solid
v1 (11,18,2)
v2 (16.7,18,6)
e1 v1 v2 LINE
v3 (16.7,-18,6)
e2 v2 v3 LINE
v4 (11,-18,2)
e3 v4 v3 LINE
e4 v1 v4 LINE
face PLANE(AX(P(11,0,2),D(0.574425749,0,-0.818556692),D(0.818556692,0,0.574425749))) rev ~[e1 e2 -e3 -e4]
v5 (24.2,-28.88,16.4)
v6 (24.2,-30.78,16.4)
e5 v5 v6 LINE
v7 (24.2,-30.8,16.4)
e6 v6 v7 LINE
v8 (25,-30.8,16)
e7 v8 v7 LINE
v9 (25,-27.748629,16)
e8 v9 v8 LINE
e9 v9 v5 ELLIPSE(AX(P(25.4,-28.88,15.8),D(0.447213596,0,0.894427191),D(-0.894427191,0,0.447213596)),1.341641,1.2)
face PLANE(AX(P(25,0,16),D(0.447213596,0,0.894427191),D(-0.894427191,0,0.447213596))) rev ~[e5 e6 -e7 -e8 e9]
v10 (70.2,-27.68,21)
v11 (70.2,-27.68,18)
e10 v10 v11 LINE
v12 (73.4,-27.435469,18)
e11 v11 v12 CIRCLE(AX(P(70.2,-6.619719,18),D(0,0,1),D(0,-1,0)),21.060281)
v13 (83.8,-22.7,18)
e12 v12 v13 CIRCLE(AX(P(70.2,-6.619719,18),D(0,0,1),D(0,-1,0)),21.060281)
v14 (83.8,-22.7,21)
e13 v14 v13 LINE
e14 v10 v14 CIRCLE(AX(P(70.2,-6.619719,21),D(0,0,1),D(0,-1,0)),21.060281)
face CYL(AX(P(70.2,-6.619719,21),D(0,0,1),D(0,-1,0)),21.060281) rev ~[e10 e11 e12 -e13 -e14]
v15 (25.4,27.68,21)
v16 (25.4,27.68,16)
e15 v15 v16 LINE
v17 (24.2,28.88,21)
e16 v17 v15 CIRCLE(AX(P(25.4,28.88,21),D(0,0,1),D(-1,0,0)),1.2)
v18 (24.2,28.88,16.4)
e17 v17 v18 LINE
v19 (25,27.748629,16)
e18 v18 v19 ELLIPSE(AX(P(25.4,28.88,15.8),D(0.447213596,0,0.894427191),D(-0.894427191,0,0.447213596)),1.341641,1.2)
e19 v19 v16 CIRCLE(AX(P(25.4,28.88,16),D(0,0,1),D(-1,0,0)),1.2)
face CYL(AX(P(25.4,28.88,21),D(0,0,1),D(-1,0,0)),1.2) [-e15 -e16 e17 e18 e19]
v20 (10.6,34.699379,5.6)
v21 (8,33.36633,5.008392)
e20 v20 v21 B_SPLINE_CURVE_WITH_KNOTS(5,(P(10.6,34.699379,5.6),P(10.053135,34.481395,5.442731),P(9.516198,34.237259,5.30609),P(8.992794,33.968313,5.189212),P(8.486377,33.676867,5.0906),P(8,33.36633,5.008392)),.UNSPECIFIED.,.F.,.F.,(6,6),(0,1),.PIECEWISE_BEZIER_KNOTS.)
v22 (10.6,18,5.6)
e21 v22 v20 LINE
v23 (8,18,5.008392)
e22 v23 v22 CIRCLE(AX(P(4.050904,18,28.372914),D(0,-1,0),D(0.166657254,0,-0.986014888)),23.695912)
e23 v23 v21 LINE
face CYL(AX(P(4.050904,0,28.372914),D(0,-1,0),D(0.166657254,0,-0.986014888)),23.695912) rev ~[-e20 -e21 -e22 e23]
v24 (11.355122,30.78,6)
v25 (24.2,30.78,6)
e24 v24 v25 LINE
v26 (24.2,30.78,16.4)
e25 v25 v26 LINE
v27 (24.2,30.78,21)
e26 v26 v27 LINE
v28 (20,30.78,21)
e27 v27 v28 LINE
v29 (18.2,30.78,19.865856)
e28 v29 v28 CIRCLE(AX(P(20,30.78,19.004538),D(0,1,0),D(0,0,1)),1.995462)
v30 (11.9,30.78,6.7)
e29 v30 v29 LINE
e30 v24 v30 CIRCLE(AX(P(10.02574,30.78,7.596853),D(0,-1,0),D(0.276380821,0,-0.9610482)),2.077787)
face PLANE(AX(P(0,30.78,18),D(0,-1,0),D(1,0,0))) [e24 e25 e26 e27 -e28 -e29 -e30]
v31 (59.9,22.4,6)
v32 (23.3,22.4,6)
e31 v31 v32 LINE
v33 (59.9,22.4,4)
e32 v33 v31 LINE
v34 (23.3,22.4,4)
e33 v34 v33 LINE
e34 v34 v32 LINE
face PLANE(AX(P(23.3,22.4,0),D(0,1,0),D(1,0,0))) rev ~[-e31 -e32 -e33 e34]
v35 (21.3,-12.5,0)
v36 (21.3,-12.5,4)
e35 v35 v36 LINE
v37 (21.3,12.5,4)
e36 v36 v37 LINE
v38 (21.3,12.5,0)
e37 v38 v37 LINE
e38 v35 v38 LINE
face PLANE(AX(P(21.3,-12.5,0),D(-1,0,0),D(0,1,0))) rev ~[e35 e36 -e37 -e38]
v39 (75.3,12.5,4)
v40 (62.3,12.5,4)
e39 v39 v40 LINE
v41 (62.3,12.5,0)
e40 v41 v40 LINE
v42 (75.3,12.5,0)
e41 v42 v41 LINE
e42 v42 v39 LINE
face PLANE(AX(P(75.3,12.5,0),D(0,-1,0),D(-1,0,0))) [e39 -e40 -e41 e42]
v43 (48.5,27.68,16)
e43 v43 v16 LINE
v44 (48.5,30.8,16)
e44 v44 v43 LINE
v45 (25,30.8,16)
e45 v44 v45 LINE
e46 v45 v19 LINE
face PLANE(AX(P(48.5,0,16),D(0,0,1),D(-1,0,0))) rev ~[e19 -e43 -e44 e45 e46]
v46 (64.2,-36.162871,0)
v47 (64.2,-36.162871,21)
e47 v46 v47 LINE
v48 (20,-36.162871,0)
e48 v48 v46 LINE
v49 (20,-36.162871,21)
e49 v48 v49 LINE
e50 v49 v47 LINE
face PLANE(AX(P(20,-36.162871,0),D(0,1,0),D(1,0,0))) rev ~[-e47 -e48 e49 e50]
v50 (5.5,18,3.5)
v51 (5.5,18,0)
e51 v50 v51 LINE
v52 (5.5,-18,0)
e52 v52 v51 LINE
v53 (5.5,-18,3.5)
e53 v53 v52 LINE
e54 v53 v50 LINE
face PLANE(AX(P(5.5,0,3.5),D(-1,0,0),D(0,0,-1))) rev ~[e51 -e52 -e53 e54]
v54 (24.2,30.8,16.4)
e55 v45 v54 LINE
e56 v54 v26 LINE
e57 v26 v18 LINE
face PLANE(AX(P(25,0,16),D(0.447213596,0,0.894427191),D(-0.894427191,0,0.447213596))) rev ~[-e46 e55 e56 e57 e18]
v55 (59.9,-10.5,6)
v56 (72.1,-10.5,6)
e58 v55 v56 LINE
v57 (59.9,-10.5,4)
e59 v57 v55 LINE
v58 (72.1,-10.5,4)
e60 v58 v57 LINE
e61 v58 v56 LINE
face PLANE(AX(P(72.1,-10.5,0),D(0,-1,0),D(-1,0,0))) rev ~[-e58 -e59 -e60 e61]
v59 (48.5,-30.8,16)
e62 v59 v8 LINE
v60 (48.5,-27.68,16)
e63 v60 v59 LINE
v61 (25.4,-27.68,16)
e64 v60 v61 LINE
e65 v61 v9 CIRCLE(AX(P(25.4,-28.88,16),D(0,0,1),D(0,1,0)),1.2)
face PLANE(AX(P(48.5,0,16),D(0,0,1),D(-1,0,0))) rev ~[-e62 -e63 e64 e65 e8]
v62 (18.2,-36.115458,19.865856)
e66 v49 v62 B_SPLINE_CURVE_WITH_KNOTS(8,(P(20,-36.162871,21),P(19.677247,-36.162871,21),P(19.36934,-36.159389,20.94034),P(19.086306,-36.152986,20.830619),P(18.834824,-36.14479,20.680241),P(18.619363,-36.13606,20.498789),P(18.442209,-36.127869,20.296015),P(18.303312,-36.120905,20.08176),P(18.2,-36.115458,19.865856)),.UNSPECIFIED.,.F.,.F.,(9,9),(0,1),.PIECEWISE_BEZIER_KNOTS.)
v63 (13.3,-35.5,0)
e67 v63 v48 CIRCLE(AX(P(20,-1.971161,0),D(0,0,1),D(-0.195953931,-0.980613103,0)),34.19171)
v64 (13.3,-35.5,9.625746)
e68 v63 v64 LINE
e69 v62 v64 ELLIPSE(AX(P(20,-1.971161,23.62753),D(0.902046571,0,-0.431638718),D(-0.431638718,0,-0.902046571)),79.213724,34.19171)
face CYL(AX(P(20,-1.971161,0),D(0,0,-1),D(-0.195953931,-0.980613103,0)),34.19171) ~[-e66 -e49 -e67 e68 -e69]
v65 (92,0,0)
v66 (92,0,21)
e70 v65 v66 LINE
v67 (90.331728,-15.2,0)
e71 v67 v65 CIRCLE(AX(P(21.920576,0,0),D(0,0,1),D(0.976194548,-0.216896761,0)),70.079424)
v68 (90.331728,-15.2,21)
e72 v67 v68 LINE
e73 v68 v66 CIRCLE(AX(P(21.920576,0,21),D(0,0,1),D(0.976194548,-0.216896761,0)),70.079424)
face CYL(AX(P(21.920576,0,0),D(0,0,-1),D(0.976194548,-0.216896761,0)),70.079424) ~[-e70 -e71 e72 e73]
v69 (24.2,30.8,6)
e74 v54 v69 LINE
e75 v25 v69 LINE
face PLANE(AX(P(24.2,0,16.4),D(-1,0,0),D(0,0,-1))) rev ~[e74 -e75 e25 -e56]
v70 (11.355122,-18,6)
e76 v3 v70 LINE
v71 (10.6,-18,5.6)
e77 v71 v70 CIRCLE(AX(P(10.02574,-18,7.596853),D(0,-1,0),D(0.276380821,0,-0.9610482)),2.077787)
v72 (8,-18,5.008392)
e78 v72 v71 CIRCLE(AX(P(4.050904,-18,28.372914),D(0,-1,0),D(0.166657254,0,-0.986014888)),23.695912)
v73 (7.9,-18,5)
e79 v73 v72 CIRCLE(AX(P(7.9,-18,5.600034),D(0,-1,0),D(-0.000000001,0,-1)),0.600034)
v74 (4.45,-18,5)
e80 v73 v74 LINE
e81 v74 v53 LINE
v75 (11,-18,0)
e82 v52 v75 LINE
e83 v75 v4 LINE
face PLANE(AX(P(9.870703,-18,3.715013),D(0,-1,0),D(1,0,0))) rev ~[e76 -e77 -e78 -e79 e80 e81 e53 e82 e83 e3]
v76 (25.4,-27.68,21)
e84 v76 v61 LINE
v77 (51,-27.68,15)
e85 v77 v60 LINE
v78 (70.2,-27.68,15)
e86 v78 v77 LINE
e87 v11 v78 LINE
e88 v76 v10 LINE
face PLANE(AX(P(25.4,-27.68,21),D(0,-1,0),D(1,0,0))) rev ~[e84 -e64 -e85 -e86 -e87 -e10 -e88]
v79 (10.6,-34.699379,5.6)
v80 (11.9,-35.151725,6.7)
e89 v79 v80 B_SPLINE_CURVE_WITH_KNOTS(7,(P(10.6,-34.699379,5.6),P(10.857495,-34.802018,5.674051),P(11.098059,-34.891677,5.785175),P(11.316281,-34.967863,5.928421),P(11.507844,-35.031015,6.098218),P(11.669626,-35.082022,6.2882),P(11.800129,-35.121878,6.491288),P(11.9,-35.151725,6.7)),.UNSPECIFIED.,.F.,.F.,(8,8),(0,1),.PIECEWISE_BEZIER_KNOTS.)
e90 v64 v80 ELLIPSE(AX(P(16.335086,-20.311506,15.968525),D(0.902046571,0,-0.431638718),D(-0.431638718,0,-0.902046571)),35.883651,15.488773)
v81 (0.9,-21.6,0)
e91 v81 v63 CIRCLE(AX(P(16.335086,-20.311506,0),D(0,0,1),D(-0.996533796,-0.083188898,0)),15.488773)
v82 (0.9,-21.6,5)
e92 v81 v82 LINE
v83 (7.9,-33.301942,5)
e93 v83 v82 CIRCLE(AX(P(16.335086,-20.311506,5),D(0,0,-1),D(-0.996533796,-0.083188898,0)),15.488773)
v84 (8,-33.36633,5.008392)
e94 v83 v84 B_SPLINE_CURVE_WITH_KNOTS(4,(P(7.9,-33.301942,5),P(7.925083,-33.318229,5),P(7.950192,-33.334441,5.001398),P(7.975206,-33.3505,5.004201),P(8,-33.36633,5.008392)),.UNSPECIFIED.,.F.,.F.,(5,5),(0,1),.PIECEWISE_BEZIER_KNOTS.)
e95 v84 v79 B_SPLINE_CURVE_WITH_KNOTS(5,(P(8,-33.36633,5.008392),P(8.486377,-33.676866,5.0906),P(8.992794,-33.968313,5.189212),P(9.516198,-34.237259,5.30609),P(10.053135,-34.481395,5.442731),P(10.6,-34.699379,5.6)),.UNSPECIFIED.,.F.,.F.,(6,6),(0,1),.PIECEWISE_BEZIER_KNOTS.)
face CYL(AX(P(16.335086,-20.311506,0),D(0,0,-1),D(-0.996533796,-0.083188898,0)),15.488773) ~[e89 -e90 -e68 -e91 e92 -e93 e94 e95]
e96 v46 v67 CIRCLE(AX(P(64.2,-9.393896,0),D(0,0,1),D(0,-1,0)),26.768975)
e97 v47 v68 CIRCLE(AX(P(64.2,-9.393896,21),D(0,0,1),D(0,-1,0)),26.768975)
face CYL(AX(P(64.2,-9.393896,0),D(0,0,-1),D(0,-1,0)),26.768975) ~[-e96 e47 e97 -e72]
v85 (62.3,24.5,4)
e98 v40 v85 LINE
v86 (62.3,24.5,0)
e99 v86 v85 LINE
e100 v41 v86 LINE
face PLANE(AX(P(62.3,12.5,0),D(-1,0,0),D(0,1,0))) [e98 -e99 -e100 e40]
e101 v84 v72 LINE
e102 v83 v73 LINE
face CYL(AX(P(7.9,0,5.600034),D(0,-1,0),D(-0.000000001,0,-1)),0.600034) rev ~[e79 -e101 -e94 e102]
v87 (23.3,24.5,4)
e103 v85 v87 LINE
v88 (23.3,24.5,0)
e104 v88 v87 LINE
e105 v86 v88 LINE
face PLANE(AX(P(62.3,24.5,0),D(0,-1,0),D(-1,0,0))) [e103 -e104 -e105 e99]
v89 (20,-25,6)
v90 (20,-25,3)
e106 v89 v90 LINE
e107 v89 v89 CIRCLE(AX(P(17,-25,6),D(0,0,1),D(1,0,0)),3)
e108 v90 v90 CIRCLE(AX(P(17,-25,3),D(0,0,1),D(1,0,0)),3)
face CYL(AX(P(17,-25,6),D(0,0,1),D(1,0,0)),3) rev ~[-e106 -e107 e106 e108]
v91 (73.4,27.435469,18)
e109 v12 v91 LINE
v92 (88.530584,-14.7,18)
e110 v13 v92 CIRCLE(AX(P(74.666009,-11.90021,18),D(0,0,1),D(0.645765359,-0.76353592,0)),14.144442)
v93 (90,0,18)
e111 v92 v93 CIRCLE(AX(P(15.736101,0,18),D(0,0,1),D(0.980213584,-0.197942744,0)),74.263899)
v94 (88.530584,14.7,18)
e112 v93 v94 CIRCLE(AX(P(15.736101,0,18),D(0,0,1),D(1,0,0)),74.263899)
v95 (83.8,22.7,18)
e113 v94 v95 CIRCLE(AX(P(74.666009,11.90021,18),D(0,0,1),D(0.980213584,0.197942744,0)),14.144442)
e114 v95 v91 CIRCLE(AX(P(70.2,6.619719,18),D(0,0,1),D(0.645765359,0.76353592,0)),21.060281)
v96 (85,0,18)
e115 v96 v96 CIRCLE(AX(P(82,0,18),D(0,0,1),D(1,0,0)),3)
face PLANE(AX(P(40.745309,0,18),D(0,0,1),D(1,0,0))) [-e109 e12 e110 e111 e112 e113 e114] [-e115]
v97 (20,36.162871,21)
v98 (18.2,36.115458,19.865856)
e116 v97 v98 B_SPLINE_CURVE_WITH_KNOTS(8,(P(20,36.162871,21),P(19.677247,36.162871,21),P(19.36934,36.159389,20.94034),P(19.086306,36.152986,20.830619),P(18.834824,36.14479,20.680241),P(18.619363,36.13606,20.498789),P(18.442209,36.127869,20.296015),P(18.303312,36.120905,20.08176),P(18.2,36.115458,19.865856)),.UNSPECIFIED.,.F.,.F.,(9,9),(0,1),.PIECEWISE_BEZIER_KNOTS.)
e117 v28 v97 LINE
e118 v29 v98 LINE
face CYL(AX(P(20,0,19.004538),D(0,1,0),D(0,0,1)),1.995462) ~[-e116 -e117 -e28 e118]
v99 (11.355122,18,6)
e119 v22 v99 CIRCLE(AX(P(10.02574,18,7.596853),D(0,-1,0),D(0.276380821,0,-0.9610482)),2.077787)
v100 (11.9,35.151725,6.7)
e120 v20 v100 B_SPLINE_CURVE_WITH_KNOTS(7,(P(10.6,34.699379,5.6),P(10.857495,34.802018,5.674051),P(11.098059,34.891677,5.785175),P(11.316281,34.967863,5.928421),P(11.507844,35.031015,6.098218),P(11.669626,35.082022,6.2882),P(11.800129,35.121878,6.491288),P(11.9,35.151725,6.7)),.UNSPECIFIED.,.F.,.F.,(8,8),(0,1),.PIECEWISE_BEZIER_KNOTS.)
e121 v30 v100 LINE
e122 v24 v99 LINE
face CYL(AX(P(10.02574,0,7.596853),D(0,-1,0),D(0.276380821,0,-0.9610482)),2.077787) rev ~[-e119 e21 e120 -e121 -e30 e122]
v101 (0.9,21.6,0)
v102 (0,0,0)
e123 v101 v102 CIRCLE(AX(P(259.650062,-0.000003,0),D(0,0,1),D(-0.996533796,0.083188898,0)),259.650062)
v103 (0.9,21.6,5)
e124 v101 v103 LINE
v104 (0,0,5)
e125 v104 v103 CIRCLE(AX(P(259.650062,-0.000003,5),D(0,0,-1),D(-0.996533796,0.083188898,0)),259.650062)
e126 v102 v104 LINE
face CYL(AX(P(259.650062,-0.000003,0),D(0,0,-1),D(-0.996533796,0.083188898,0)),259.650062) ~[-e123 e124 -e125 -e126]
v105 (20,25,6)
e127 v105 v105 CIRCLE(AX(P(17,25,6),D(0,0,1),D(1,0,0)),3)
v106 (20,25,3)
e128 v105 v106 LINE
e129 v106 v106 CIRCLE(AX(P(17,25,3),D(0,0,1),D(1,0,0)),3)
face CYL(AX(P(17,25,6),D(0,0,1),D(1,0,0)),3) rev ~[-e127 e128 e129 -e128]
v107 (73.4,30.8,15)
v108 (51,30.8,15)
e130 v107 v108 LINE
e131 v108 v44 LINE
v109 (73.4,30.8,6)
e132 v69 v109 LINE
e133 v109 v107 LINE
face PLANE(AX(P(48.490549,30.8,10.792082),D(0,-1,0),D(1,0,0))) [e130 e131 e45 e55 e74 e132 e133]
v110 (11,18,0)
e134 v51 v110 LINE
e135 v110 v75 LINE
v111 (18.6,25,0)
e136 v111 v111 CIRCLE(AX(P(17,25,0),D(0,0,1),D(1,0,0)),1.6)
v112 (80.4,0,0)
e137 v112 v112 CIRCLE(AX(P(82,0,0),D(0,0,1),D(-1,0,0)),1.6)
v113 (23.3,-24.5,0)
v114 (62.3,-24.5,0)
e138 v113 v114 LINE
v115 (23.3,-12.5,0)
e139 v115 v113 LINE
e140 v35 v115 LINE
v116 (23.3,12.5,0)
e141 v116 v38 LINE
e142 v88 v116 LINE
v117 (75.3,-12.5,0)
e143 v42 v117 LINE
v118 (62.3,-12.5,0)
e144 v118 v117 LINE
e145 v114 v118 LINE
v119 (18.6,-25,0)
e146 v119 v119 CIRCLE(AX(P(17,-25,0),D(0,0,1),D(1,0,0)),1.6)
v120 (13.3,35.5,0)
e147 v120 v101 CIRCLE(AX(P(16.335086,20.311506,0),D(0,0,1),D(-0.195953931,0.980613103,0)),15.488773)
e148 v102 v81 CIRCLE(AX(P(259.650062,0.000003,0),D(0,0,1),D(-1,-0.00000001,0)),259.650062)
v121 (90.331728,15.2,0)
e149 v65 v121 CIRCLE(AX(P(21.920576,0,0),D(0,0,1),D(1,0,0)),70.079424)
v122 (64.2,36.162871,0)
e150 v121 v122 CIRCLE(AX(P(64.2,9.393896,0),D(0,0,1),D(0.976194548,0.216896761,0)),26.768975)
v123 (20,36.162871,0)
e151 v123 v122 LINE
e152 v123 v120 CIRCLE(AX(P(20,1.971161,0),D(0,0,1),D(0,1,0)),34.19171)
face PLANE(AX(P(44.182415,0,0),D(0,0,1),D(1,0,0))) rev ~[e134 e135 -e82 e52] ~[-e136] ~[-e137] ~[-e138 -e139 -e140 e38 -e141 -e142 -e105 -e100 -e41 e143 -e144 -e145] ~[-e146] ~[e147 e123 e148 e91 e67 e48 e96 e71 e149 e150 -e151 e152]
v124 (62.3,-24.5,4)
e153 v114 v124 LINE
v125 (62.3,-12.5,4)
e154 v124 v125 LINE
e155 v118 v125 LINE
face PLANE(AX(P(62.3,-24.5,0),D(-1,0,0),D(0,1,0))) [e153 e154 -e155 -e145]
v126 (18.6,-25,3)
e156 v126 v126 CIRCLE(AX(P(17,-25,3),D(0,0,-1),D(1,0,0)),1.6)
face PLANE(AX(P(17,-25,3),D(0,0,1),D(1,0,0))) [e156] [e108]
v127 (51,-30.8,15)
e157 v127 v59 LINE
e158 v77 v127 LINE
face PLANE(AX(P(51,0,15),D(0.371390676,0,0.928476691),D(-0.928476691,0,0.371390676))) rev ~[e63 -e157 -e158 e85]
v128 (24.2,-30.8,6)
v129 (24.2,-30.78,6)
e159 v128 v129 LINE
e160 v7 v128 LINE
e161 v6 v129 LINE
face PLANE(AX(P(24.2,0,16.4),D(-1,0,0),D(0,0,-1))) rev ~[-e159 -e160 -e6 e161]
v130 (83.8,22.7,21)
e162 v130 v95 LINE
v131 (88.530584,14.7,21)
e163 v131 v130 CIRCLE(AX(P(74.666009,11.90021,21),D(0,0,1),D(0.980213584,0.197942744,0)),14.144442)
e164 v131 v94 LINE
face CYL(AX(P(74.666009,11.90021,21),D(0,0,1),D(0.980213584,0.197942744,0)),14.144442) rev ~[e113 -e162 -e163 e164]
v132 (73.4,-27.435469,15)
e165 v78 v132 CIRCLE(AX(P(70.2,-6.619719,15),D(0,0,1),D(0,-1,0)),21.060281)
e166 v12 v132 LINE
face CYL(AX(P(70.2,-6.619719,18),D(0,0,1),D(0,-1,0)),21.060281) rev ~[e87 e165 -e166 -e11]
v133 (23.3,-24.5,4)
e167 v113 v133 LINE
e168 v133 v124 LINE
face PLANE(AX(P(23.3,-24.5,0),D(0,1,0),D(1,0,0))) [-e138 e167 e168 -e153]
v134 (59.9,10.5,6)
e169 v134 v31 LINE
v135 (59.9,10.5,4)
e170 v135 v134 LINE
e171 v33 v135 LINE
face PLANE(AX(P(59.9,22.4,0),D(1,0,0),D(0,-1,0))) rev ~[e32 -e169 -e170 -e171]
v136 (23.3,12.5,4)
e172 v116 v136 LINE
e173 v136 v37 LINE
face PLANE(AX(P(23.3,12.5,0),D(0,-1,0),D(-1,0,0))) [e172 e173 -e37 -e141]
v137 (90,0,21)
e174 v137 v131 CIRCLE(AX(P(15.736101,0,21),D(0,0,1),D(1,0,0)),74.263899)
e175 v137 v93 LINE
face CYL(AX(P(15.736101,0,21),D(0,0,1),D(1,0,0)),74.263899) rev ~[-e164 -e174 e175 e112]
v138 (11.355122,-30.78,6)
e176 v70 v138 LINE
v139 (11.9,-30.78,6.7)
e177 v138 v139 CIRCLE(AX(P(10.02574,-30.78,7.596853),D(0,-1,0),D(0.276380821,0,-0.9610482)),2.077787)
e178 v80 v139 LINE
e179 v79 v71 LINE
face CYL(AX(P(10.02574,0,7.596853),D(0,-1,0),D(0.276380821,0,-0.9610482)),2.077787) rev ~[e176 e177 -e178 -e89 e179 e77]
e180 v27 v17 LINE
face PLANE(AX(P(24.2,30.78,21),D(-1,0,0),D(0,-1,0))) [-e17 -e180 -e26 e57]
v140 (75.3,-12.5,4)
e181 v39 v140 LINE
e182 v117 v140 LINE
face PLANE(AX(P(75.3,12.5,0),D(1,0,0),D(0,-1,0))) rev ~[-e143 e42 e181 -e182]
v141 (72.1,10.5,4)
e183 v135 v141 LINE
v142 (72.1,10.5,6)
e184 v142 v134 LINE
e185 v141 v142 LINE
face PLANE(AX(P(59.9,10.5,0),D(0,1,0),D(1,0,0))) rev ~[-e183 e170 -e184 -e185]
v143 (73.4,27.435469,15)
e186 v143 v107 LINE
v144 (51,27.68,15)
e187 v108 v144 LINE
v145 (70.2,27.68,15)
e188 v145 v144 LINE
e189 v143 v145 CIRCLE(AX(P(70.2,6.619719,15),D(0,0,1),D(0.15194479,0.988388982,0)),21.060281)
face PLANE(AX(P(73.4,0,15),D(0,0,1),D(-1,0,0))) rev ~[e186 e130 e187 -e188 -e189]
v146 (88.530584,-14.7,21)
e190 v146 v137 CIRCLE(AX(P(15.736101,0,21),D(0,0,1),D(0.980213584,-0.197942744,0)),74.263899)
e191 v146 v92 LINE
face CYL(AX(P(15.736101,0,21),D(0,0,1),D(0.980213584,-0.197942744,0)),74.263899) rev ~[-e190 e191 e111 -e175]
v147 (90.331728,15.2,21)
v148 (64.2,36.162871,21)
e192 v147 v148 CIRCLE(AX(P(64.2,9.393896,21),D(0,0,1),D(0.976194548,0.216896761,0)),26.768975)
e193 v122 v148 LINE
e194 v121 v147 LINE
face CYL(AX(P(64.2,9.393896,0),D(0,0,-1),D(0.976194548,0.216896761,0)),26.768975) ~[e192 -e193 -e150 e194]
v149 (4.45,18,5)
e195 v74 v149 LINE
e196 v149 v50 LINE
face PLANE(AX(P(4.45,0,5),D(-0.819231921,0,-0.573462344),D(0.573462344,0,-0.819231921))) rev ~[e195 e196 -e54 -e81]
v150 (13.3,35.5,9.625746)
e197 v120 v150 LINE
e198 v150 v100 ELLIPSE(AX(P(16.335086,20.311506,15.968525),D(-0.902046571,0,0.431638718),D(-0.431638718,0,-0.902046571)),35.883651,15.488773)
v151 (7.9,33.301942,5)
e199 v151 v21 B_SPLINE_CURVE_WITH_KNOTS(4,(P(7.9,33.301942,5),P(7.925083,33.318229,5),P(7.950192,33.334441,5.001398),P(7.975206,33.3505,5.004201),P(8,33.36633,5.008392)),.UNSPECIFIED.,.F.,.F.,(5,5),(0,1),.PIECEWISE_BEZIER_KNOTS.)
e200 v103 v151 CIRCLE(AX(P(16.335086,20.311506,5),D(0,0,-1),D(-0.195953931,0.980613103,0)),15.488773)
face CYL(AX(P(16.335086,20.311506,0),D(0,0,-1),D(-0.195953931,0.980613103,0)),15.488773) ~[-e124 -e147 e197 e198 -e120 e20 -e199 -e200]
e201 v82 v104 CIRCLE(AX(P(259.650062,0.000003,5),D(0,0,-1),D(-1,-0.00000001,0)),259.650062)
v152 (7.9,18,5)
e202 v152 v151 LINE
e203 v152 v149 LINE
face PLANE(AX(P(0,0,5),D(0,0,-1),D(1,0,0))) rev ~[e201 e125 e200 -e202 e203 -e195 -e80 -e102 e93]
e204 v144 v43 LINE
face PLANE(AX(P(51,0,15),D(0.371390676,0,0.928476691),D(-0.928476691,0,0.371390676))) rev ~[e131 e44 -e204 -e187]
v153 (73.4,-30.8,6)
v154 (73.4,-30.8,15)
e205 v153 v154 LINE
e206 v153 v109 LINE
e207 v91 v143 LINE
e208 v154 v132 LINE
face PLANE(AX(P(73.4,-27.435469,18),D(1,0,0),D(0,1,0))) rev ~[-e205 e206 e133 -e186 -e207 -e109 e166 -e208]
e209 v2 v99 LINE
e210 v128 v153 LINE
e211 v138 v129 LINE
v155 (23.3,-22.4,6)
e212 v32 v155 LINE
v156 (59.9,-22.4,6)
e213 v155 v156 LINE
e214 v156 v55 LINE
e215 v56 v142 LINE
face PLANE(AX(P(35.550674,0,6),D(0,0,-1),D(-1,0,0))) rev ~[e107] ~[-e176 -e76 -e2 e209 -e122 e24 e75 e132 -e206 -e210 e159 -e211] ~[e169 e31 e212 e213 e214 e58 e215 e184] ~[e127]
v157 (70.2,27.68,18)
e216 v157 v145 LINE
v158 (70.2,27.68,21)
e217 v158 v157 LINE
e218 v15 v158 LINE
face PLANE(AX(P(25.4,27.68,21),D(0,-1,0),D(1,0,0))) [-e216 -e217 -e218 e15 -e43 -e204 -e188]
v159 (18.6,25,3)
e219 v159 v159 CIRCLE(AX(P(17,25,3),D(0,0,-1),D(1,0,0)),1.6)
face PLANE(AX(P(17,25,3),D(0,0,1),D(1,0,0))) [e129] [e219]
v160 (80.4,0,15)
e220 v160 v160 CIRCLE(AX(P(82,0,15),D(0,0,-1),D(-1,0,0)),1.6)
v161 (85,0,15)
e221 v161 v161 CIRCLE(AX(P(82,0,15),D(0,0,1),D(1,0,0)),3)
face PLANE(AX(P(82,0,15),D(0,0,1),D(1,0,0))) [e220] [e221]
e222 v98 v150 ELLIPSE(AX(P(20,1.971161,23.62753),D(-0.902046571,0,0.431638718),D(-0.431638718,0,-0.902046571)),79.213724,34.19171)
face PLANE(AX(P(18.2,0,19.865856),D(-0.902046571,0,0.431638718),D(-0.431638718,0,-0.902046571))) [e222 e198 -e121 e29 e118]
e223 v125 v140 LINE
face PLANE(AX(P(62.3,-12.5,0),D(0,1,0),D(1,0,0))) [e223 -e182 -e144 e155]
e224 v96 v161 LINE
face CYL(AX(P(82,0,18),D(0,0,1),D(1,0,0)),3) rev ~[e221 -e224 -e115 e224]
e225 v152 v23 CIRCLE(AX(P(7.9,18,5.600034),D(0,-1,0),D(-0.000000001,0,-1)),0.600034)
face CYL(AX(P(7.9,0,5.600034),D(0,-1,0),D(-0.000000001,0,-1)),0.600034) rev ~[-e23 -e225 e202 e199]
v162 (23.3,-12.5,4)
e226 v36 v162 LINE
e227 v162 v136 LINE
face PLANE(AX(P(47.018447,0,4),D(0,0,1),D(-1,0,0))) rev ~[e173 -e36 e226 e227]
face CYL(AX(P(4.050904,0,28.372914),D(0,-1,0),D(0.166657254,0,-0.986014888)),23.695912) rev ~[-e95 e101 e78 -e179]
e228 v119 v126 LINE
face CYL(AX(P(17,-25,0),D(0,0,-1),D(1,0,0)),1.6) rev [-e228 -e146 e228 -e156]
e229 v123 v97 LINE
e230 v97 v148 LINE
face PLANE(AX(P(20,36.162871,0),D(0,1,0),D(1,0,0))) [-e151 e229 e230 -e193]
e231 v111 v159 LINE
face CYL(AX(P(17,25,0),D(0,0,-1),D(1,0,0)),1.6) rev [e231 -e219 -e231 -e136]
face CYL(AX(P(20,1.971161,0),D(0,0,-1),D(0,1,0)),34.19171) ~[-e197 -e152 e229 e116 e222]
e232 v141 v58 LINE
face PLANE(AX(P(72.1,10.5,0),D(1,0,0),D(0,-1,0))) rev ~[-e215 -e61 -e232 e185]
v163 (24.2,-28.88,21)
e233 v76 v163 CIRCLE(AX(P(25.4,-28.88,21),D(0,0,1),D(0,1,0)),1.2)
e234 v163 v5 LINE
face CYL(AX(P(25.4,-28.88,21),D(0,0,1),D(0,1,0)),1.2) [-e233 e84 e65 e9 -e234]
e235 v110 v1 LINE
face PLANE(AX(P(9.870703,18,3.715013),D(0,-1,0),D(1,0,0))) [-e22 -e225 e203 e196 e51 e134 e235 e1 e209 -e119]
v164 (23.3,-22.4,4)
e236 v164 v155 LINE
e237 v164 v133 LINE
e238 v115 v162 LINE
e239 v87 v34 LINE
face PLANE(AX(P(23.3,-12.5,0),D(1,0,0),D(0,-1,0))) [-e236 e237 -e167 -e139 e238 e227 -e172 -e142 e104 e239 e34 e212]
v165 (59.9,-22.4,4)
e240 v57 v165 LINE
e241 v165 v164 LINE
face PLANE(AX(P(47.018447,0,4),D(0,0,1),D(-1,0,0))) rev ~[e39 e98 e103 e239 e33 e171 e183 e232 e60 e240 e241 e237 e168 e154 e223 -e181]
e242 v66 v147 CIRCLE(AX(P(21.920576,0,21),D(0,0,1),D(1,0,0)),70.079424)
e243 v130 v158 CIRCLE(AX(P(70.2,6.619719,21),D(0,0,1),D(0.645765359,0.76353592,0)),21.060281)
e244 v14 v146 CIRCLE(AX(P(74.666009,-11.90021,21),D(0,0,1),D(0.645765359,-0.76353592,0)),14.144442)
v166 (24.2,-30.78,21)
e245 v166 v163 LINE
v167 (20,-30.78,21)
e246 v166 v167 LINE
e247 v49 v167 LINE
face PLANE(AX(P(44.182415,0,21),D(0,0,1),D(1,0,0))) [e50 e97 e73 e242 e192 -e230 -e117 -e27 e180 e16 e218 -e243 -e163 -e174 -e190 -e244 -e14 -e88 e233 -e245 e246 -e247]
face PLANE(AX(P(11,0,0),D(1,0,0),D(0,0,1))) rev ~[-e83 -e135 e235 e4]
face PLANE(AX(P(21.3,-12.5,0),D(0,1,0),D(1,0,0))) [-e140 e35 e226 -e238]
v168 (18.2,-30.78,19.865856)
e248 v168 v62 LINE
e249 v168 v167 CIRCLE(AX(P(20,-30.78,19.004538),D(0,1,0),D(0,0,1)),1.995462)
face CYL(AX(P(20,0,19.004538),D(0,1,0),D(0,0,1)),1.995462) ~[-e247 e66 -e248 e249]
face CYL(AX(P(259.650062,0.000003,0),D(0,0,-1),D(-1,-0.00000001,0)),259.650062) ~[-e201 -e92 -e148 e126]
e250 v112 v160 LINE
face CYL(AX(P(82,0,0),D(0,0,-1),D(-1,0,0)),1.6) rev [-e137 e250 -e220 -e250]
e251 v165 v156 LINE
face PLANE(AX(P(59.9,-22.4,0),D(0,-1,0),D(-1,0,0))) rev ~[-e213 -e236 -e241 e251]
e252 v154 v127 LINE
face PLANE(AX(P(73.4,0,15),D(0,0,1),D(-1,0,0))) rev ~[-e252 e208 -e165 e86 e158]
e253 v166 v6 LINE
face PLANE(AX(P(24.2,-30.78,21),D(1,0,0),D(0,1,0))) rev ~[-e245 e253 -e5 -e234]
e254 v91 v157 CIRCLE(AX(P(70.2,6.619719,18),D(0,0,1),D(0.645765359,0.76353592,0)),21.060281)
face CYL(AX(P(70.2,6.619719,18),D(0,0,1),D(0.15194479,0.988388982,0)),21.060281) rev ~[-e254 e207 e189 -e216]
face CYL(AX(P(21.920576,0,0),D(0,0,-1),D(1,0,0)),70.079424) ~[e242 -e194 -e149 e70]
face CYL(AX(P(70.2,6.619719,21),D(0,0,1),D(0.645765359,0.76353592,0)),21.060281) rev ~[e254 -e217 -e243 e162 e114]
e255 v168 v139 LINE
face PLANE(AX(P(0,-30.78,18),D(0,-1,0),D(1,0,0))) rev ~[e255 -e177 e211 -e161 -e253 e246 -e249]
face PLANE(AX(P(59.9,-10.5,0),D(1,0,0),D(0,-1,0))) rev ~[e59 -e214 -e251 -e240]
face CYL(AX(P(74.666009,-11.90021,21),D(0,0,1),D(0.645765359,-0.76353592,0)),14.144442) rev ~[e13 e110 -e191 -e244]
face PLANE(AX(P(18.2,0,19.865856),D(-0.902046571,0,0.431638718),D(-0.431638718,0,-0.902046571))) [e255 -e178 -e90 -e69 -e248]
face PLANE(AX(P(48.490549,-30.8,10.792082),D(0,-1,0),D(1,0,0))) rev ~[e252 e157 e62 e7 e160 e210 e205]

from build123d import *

# Parameters (mm, degrees)
SKETCH_R          = 1.6
PAD_DEPTH         = 21
POCKET_DEPTH      = 36.1638711749
POCKET_DEPTH_BACK = 36.1638711749
POCKET001_DEPTH   = 3
POCKET002_DEPTH   = 12
SKETCH004_R       = 3
POCKET003_DEPTH   = 3
SKETCH005_R       = 3
POCKET004_DEPTH   = 3
POCKET005_DEPTH   = 30.8
POCKET006_DEPTH   = 4
POCKET007_DEPTH   = 18


with BuildPart() as part:
    # Sketch → Pad (new body)
    with BuildSketch(Plane.XY):
        with BuildLine():
            ThreePointArc((0.9, 21.6), (0.2250976252, 10.8093709323), (0, 0))
            ThreePointArc((0, 0), (0.2250976252, -10.8093709323), (0.9, -21.6))
            ThreePointArc((0.9, -21.6), (4.7770016669, -30.6223150598), (13.3, -35.5))
            ThreePointArc((13.3, -35.5), (16.6336444708, -35.9967498287), (20, -36.1628711749))
            Line((20, -36.1628711749), (64.2, -36.1628711749))
            ThreePointArc((64.2, -36.1628711749), (80.950441462, -30.2745268069), (90.3317276275, -15.2))
            ThreePointArc((90.3317276275, -15.2), (91.5816834036, -7.6456381799), (92, 0))
            ThreePointArc((92, 0), (91.5816834036, 7.6456381799), (90.3317276275, 15.2))
            ThreePointArc((90.3317276275, 15.2), (80.950441462, 30.2745268069), (64.2, 36.1628711749))
            Line((20, 36.1628711749), (64.2, 36.1628711749))
            ThreePointArc((20, 36.1628711749), (16.6336444708, 35.9967498287), (13.3, 35.5))
            ThreePointArc((13.3, 35.5), (4.7770016669, 30.6223150598), (0.9, 21.6))
        make_face()
        with Locations((17, 25)):
            Circle(SKETCH_R, mode=Mode.SUBTRACT)
        with Locations((17, -25)):
            Circle(SKETCH_R, mode=Mode.SUBTRACT)
        with BuildLine():
            ThreePointArc((83.6, 0), (82, 1.6), (80.4, 0))
            ThreePointArc((80.4, 0), (82, -1.6), (83.6, 0))
        make_face(mode=Mode.SUBTRACT)
        Polygon((23.3, 0), (23.3, 22.4), (59.9, 22.4), (59.9, 10.5), (72.1, 10.5), (72.1, 0), (72.1, -10.5), (59.9, -10.5), (59.9, -22.4), (23.3, -22.4), align=None, mode=Mode.SUBTRACT)
    extrude(amount=PAD_DEPTH)

    # Sketch001 → Pocket (cut, two sides)
    with BuildSketch(Plane.XZ) as pocket_sk:
        with BuildLine():
            Line((0, 5), (0, 21))
            Line((0, 21), (20, 21))
            ThreePointArc((20, 21), (18.9362470202, 20.6928206855), (18.2, 19.8658564429))
            Line((18.2, 19.8658564429), (11.9, 6.7))
            ThreePointArc((10.6, 5.6), (11.3678698195, 6.0106993043), (11.9, 6.7))
            ThreePointArc((8, 5.008391541), (9.3083281759, 5.267595115), (10.6, 5.6))
            ThreePointArc((7.9, 5), (7.9501757361, 5.0021015655), (8, 5.008391541))
            Line((0, 5), (7.9, 5))
        make_face()
    extrude(amount=-POCKET_DEPTH, mode=Mode.SUBTRACT)
    extrude(pocket_sk.sketch, amount=POCKET_DEPTH_BACK, mode=Mode.SUBTRACT)

    # Sketch002 (on Face34 of Pocket) → Pocket001 (cut)
    with BuildSketch(Plane.XY.offset(21)):
        with BuildLine():
            Line((24.2, 30.78), (0, 30.78))
            Line((0, 0), (0, 30.78))
            Line((0, 0), (0, -30.78))
            Line((24.2, -30.78), (0, -30.78))
            Line((24.2, -30.78), (24.2, -28.88))
            ThreePointArc((25.4, -27.68), (24.5514718626, -28.0314718626), (24.2, -28.88))
            Line((25.4, -27.68), (70.2, -27.68))
            ThreePointArc((70.2, -27.68), (77.4415537007, -26.3958494637), (83.8, -22.7))
            ThreePointArc((83.8, -22.7), (86.8411272784, -19.0996370304), (88.5305835924, -14.7))
            ThreePointArc((88.5305835924, -14.7), (89.6317327981, -7.3866295524), (90, 0))
            ThreePointArc((90, 0), (89.6317327981, 7.3866295524), (88.5305835924, 14.7))
            ThreePointArc((88.5305835924, 14.7), (86.8411272784, 19.0996370304), (83.8, 22.7))
            ThreePointArc((83.8, 22.7), (77.4415537007, 26.3958494637), (70.2, 27.68))
            Line((25.4, 27.68), (70.2, 27.68))
            ThreePointArc((24.2, 28.88), (24.5514718626, 28.0314718626), (25.4, 27.68))
            Line((24.2, 30.78), (24.2, 28.88))
        make_face()
    extrude(amount=-POCKET001_DEPTH, mode=Mode.SUBTRACT)

    # Sketch003 (on Face35 of Pocket001) → Pocket002 (cut)
    with BuildSketch(Plane.XY.offset(18)):
        with BuildLine():
            Line((0, 0), (0, 30.78))
            Line((0, 30.78), (24.2, 30.78))
            Line((24.2, 28.88), (24.2, 30.78))
            ThreePointArc((24.2, 28.88), (24.5514718626, 28.0314718626), (25.4, 27.68))
            Line((25.4, 27.68), (70.2, 27.68))
            ThreePointArc((73.4, 27.4354687069), (71.8046647277, 27.6187781914), (70.2, 27.68))
            Line((73.4, 27.4354687069), (73.4, 0))
            Line((73.4, -27.4354687069), (73.4, 0))
            ThreePointArc((70.2, -27.68), (71.8046647277, -27.6187781914), (73.4, -27.4354687069))
            Line((25.4, -27.68), (70.2, -27.68))
            ThreePointArc((25.4, -27.68), (24.5514718626, -28.0314718626), (24.2, -28.88))
            Line((24.2, -28.88), (24.2, -30.78))
            Line((0, -30.78), (24.2, -30.78))
            Line((0, 0), (0, -30.78))
        make_face()
    extrude(amount=-POCKET002_DEPTH, mode=Mode.SUBTRACT)

    # Sketch004 (on Face39 of Pocket002) → Pocket003 (cut)
    with BuildSketch(Plane.XY.offset(6)):
        with Locations((17, 25)):
            Circle(SKETCH004_R)
        with Locations((17, -25)):
            Circle(SKETCH004_R)
    extrude(amount=-POCKET003_DEPTH, mode=Mode.SUBTRACT)

    # Sketch005 (on Face42 of Pocket003) → Pocket004 (cut)
    with BuildSketch(Plane.XY.offset(18)):
        with Locations((82, 0)):
            Circle(SKETCH005_R)
    extrude(amount=-POCKET004_DEPTH, mode=Mode.SUBTRACT)

    # Sketch006 → Pocket005 (cut, symmetric)
    with BuildSketch(Plane.XZ):
        Polygon((73.4, 15), (51, 15), (48.5, 16), (25, 16), (24.2, 16.4), (24.2, 6), (73.4, 6), align=None)
    extrude(amount=POCKET005_DEPTH, both=True, mode=Mode.SUBTRACT)

    # Sketch007 (on Face2 of Pocket005) → Pocket006 (cut)
    with BuildSketch(Plane(origin=(0, 0, 0), x_dir=(1, 0, 0), z_dir=(0, 0, -1))):
        Polygon((21.3, 0), (21.3, 12.5), (23.3, 12.5), (23.3, 24.5), (62.3, 24.5), (62.3, 12.5), (75.3, 12.5), (75.3, 0), (75.3, -12.5), (62.3, -12.5), (62.3, -24.5), (23.3, -24.5), (23.3, -12.5), (21.3, -12.5), align=None)
    extrude(amount=-POCKET006_DEPTH, mode=Mode.SUBTRACT)

    # Sketch008 → Pocket007 (cut, symmetric)
    with BuildSketch(Plane.XZ):
        Polygon((5.5, 0), (11, 0), (11, 2), (16.7, 6), (4.45, 6), (4.45, 5), (5.5, 3.5), align=None)
    extrude(amount=POCKET007_DEPTH, both=True, mode=Mode.SUBTRACT)


solid = part.part
